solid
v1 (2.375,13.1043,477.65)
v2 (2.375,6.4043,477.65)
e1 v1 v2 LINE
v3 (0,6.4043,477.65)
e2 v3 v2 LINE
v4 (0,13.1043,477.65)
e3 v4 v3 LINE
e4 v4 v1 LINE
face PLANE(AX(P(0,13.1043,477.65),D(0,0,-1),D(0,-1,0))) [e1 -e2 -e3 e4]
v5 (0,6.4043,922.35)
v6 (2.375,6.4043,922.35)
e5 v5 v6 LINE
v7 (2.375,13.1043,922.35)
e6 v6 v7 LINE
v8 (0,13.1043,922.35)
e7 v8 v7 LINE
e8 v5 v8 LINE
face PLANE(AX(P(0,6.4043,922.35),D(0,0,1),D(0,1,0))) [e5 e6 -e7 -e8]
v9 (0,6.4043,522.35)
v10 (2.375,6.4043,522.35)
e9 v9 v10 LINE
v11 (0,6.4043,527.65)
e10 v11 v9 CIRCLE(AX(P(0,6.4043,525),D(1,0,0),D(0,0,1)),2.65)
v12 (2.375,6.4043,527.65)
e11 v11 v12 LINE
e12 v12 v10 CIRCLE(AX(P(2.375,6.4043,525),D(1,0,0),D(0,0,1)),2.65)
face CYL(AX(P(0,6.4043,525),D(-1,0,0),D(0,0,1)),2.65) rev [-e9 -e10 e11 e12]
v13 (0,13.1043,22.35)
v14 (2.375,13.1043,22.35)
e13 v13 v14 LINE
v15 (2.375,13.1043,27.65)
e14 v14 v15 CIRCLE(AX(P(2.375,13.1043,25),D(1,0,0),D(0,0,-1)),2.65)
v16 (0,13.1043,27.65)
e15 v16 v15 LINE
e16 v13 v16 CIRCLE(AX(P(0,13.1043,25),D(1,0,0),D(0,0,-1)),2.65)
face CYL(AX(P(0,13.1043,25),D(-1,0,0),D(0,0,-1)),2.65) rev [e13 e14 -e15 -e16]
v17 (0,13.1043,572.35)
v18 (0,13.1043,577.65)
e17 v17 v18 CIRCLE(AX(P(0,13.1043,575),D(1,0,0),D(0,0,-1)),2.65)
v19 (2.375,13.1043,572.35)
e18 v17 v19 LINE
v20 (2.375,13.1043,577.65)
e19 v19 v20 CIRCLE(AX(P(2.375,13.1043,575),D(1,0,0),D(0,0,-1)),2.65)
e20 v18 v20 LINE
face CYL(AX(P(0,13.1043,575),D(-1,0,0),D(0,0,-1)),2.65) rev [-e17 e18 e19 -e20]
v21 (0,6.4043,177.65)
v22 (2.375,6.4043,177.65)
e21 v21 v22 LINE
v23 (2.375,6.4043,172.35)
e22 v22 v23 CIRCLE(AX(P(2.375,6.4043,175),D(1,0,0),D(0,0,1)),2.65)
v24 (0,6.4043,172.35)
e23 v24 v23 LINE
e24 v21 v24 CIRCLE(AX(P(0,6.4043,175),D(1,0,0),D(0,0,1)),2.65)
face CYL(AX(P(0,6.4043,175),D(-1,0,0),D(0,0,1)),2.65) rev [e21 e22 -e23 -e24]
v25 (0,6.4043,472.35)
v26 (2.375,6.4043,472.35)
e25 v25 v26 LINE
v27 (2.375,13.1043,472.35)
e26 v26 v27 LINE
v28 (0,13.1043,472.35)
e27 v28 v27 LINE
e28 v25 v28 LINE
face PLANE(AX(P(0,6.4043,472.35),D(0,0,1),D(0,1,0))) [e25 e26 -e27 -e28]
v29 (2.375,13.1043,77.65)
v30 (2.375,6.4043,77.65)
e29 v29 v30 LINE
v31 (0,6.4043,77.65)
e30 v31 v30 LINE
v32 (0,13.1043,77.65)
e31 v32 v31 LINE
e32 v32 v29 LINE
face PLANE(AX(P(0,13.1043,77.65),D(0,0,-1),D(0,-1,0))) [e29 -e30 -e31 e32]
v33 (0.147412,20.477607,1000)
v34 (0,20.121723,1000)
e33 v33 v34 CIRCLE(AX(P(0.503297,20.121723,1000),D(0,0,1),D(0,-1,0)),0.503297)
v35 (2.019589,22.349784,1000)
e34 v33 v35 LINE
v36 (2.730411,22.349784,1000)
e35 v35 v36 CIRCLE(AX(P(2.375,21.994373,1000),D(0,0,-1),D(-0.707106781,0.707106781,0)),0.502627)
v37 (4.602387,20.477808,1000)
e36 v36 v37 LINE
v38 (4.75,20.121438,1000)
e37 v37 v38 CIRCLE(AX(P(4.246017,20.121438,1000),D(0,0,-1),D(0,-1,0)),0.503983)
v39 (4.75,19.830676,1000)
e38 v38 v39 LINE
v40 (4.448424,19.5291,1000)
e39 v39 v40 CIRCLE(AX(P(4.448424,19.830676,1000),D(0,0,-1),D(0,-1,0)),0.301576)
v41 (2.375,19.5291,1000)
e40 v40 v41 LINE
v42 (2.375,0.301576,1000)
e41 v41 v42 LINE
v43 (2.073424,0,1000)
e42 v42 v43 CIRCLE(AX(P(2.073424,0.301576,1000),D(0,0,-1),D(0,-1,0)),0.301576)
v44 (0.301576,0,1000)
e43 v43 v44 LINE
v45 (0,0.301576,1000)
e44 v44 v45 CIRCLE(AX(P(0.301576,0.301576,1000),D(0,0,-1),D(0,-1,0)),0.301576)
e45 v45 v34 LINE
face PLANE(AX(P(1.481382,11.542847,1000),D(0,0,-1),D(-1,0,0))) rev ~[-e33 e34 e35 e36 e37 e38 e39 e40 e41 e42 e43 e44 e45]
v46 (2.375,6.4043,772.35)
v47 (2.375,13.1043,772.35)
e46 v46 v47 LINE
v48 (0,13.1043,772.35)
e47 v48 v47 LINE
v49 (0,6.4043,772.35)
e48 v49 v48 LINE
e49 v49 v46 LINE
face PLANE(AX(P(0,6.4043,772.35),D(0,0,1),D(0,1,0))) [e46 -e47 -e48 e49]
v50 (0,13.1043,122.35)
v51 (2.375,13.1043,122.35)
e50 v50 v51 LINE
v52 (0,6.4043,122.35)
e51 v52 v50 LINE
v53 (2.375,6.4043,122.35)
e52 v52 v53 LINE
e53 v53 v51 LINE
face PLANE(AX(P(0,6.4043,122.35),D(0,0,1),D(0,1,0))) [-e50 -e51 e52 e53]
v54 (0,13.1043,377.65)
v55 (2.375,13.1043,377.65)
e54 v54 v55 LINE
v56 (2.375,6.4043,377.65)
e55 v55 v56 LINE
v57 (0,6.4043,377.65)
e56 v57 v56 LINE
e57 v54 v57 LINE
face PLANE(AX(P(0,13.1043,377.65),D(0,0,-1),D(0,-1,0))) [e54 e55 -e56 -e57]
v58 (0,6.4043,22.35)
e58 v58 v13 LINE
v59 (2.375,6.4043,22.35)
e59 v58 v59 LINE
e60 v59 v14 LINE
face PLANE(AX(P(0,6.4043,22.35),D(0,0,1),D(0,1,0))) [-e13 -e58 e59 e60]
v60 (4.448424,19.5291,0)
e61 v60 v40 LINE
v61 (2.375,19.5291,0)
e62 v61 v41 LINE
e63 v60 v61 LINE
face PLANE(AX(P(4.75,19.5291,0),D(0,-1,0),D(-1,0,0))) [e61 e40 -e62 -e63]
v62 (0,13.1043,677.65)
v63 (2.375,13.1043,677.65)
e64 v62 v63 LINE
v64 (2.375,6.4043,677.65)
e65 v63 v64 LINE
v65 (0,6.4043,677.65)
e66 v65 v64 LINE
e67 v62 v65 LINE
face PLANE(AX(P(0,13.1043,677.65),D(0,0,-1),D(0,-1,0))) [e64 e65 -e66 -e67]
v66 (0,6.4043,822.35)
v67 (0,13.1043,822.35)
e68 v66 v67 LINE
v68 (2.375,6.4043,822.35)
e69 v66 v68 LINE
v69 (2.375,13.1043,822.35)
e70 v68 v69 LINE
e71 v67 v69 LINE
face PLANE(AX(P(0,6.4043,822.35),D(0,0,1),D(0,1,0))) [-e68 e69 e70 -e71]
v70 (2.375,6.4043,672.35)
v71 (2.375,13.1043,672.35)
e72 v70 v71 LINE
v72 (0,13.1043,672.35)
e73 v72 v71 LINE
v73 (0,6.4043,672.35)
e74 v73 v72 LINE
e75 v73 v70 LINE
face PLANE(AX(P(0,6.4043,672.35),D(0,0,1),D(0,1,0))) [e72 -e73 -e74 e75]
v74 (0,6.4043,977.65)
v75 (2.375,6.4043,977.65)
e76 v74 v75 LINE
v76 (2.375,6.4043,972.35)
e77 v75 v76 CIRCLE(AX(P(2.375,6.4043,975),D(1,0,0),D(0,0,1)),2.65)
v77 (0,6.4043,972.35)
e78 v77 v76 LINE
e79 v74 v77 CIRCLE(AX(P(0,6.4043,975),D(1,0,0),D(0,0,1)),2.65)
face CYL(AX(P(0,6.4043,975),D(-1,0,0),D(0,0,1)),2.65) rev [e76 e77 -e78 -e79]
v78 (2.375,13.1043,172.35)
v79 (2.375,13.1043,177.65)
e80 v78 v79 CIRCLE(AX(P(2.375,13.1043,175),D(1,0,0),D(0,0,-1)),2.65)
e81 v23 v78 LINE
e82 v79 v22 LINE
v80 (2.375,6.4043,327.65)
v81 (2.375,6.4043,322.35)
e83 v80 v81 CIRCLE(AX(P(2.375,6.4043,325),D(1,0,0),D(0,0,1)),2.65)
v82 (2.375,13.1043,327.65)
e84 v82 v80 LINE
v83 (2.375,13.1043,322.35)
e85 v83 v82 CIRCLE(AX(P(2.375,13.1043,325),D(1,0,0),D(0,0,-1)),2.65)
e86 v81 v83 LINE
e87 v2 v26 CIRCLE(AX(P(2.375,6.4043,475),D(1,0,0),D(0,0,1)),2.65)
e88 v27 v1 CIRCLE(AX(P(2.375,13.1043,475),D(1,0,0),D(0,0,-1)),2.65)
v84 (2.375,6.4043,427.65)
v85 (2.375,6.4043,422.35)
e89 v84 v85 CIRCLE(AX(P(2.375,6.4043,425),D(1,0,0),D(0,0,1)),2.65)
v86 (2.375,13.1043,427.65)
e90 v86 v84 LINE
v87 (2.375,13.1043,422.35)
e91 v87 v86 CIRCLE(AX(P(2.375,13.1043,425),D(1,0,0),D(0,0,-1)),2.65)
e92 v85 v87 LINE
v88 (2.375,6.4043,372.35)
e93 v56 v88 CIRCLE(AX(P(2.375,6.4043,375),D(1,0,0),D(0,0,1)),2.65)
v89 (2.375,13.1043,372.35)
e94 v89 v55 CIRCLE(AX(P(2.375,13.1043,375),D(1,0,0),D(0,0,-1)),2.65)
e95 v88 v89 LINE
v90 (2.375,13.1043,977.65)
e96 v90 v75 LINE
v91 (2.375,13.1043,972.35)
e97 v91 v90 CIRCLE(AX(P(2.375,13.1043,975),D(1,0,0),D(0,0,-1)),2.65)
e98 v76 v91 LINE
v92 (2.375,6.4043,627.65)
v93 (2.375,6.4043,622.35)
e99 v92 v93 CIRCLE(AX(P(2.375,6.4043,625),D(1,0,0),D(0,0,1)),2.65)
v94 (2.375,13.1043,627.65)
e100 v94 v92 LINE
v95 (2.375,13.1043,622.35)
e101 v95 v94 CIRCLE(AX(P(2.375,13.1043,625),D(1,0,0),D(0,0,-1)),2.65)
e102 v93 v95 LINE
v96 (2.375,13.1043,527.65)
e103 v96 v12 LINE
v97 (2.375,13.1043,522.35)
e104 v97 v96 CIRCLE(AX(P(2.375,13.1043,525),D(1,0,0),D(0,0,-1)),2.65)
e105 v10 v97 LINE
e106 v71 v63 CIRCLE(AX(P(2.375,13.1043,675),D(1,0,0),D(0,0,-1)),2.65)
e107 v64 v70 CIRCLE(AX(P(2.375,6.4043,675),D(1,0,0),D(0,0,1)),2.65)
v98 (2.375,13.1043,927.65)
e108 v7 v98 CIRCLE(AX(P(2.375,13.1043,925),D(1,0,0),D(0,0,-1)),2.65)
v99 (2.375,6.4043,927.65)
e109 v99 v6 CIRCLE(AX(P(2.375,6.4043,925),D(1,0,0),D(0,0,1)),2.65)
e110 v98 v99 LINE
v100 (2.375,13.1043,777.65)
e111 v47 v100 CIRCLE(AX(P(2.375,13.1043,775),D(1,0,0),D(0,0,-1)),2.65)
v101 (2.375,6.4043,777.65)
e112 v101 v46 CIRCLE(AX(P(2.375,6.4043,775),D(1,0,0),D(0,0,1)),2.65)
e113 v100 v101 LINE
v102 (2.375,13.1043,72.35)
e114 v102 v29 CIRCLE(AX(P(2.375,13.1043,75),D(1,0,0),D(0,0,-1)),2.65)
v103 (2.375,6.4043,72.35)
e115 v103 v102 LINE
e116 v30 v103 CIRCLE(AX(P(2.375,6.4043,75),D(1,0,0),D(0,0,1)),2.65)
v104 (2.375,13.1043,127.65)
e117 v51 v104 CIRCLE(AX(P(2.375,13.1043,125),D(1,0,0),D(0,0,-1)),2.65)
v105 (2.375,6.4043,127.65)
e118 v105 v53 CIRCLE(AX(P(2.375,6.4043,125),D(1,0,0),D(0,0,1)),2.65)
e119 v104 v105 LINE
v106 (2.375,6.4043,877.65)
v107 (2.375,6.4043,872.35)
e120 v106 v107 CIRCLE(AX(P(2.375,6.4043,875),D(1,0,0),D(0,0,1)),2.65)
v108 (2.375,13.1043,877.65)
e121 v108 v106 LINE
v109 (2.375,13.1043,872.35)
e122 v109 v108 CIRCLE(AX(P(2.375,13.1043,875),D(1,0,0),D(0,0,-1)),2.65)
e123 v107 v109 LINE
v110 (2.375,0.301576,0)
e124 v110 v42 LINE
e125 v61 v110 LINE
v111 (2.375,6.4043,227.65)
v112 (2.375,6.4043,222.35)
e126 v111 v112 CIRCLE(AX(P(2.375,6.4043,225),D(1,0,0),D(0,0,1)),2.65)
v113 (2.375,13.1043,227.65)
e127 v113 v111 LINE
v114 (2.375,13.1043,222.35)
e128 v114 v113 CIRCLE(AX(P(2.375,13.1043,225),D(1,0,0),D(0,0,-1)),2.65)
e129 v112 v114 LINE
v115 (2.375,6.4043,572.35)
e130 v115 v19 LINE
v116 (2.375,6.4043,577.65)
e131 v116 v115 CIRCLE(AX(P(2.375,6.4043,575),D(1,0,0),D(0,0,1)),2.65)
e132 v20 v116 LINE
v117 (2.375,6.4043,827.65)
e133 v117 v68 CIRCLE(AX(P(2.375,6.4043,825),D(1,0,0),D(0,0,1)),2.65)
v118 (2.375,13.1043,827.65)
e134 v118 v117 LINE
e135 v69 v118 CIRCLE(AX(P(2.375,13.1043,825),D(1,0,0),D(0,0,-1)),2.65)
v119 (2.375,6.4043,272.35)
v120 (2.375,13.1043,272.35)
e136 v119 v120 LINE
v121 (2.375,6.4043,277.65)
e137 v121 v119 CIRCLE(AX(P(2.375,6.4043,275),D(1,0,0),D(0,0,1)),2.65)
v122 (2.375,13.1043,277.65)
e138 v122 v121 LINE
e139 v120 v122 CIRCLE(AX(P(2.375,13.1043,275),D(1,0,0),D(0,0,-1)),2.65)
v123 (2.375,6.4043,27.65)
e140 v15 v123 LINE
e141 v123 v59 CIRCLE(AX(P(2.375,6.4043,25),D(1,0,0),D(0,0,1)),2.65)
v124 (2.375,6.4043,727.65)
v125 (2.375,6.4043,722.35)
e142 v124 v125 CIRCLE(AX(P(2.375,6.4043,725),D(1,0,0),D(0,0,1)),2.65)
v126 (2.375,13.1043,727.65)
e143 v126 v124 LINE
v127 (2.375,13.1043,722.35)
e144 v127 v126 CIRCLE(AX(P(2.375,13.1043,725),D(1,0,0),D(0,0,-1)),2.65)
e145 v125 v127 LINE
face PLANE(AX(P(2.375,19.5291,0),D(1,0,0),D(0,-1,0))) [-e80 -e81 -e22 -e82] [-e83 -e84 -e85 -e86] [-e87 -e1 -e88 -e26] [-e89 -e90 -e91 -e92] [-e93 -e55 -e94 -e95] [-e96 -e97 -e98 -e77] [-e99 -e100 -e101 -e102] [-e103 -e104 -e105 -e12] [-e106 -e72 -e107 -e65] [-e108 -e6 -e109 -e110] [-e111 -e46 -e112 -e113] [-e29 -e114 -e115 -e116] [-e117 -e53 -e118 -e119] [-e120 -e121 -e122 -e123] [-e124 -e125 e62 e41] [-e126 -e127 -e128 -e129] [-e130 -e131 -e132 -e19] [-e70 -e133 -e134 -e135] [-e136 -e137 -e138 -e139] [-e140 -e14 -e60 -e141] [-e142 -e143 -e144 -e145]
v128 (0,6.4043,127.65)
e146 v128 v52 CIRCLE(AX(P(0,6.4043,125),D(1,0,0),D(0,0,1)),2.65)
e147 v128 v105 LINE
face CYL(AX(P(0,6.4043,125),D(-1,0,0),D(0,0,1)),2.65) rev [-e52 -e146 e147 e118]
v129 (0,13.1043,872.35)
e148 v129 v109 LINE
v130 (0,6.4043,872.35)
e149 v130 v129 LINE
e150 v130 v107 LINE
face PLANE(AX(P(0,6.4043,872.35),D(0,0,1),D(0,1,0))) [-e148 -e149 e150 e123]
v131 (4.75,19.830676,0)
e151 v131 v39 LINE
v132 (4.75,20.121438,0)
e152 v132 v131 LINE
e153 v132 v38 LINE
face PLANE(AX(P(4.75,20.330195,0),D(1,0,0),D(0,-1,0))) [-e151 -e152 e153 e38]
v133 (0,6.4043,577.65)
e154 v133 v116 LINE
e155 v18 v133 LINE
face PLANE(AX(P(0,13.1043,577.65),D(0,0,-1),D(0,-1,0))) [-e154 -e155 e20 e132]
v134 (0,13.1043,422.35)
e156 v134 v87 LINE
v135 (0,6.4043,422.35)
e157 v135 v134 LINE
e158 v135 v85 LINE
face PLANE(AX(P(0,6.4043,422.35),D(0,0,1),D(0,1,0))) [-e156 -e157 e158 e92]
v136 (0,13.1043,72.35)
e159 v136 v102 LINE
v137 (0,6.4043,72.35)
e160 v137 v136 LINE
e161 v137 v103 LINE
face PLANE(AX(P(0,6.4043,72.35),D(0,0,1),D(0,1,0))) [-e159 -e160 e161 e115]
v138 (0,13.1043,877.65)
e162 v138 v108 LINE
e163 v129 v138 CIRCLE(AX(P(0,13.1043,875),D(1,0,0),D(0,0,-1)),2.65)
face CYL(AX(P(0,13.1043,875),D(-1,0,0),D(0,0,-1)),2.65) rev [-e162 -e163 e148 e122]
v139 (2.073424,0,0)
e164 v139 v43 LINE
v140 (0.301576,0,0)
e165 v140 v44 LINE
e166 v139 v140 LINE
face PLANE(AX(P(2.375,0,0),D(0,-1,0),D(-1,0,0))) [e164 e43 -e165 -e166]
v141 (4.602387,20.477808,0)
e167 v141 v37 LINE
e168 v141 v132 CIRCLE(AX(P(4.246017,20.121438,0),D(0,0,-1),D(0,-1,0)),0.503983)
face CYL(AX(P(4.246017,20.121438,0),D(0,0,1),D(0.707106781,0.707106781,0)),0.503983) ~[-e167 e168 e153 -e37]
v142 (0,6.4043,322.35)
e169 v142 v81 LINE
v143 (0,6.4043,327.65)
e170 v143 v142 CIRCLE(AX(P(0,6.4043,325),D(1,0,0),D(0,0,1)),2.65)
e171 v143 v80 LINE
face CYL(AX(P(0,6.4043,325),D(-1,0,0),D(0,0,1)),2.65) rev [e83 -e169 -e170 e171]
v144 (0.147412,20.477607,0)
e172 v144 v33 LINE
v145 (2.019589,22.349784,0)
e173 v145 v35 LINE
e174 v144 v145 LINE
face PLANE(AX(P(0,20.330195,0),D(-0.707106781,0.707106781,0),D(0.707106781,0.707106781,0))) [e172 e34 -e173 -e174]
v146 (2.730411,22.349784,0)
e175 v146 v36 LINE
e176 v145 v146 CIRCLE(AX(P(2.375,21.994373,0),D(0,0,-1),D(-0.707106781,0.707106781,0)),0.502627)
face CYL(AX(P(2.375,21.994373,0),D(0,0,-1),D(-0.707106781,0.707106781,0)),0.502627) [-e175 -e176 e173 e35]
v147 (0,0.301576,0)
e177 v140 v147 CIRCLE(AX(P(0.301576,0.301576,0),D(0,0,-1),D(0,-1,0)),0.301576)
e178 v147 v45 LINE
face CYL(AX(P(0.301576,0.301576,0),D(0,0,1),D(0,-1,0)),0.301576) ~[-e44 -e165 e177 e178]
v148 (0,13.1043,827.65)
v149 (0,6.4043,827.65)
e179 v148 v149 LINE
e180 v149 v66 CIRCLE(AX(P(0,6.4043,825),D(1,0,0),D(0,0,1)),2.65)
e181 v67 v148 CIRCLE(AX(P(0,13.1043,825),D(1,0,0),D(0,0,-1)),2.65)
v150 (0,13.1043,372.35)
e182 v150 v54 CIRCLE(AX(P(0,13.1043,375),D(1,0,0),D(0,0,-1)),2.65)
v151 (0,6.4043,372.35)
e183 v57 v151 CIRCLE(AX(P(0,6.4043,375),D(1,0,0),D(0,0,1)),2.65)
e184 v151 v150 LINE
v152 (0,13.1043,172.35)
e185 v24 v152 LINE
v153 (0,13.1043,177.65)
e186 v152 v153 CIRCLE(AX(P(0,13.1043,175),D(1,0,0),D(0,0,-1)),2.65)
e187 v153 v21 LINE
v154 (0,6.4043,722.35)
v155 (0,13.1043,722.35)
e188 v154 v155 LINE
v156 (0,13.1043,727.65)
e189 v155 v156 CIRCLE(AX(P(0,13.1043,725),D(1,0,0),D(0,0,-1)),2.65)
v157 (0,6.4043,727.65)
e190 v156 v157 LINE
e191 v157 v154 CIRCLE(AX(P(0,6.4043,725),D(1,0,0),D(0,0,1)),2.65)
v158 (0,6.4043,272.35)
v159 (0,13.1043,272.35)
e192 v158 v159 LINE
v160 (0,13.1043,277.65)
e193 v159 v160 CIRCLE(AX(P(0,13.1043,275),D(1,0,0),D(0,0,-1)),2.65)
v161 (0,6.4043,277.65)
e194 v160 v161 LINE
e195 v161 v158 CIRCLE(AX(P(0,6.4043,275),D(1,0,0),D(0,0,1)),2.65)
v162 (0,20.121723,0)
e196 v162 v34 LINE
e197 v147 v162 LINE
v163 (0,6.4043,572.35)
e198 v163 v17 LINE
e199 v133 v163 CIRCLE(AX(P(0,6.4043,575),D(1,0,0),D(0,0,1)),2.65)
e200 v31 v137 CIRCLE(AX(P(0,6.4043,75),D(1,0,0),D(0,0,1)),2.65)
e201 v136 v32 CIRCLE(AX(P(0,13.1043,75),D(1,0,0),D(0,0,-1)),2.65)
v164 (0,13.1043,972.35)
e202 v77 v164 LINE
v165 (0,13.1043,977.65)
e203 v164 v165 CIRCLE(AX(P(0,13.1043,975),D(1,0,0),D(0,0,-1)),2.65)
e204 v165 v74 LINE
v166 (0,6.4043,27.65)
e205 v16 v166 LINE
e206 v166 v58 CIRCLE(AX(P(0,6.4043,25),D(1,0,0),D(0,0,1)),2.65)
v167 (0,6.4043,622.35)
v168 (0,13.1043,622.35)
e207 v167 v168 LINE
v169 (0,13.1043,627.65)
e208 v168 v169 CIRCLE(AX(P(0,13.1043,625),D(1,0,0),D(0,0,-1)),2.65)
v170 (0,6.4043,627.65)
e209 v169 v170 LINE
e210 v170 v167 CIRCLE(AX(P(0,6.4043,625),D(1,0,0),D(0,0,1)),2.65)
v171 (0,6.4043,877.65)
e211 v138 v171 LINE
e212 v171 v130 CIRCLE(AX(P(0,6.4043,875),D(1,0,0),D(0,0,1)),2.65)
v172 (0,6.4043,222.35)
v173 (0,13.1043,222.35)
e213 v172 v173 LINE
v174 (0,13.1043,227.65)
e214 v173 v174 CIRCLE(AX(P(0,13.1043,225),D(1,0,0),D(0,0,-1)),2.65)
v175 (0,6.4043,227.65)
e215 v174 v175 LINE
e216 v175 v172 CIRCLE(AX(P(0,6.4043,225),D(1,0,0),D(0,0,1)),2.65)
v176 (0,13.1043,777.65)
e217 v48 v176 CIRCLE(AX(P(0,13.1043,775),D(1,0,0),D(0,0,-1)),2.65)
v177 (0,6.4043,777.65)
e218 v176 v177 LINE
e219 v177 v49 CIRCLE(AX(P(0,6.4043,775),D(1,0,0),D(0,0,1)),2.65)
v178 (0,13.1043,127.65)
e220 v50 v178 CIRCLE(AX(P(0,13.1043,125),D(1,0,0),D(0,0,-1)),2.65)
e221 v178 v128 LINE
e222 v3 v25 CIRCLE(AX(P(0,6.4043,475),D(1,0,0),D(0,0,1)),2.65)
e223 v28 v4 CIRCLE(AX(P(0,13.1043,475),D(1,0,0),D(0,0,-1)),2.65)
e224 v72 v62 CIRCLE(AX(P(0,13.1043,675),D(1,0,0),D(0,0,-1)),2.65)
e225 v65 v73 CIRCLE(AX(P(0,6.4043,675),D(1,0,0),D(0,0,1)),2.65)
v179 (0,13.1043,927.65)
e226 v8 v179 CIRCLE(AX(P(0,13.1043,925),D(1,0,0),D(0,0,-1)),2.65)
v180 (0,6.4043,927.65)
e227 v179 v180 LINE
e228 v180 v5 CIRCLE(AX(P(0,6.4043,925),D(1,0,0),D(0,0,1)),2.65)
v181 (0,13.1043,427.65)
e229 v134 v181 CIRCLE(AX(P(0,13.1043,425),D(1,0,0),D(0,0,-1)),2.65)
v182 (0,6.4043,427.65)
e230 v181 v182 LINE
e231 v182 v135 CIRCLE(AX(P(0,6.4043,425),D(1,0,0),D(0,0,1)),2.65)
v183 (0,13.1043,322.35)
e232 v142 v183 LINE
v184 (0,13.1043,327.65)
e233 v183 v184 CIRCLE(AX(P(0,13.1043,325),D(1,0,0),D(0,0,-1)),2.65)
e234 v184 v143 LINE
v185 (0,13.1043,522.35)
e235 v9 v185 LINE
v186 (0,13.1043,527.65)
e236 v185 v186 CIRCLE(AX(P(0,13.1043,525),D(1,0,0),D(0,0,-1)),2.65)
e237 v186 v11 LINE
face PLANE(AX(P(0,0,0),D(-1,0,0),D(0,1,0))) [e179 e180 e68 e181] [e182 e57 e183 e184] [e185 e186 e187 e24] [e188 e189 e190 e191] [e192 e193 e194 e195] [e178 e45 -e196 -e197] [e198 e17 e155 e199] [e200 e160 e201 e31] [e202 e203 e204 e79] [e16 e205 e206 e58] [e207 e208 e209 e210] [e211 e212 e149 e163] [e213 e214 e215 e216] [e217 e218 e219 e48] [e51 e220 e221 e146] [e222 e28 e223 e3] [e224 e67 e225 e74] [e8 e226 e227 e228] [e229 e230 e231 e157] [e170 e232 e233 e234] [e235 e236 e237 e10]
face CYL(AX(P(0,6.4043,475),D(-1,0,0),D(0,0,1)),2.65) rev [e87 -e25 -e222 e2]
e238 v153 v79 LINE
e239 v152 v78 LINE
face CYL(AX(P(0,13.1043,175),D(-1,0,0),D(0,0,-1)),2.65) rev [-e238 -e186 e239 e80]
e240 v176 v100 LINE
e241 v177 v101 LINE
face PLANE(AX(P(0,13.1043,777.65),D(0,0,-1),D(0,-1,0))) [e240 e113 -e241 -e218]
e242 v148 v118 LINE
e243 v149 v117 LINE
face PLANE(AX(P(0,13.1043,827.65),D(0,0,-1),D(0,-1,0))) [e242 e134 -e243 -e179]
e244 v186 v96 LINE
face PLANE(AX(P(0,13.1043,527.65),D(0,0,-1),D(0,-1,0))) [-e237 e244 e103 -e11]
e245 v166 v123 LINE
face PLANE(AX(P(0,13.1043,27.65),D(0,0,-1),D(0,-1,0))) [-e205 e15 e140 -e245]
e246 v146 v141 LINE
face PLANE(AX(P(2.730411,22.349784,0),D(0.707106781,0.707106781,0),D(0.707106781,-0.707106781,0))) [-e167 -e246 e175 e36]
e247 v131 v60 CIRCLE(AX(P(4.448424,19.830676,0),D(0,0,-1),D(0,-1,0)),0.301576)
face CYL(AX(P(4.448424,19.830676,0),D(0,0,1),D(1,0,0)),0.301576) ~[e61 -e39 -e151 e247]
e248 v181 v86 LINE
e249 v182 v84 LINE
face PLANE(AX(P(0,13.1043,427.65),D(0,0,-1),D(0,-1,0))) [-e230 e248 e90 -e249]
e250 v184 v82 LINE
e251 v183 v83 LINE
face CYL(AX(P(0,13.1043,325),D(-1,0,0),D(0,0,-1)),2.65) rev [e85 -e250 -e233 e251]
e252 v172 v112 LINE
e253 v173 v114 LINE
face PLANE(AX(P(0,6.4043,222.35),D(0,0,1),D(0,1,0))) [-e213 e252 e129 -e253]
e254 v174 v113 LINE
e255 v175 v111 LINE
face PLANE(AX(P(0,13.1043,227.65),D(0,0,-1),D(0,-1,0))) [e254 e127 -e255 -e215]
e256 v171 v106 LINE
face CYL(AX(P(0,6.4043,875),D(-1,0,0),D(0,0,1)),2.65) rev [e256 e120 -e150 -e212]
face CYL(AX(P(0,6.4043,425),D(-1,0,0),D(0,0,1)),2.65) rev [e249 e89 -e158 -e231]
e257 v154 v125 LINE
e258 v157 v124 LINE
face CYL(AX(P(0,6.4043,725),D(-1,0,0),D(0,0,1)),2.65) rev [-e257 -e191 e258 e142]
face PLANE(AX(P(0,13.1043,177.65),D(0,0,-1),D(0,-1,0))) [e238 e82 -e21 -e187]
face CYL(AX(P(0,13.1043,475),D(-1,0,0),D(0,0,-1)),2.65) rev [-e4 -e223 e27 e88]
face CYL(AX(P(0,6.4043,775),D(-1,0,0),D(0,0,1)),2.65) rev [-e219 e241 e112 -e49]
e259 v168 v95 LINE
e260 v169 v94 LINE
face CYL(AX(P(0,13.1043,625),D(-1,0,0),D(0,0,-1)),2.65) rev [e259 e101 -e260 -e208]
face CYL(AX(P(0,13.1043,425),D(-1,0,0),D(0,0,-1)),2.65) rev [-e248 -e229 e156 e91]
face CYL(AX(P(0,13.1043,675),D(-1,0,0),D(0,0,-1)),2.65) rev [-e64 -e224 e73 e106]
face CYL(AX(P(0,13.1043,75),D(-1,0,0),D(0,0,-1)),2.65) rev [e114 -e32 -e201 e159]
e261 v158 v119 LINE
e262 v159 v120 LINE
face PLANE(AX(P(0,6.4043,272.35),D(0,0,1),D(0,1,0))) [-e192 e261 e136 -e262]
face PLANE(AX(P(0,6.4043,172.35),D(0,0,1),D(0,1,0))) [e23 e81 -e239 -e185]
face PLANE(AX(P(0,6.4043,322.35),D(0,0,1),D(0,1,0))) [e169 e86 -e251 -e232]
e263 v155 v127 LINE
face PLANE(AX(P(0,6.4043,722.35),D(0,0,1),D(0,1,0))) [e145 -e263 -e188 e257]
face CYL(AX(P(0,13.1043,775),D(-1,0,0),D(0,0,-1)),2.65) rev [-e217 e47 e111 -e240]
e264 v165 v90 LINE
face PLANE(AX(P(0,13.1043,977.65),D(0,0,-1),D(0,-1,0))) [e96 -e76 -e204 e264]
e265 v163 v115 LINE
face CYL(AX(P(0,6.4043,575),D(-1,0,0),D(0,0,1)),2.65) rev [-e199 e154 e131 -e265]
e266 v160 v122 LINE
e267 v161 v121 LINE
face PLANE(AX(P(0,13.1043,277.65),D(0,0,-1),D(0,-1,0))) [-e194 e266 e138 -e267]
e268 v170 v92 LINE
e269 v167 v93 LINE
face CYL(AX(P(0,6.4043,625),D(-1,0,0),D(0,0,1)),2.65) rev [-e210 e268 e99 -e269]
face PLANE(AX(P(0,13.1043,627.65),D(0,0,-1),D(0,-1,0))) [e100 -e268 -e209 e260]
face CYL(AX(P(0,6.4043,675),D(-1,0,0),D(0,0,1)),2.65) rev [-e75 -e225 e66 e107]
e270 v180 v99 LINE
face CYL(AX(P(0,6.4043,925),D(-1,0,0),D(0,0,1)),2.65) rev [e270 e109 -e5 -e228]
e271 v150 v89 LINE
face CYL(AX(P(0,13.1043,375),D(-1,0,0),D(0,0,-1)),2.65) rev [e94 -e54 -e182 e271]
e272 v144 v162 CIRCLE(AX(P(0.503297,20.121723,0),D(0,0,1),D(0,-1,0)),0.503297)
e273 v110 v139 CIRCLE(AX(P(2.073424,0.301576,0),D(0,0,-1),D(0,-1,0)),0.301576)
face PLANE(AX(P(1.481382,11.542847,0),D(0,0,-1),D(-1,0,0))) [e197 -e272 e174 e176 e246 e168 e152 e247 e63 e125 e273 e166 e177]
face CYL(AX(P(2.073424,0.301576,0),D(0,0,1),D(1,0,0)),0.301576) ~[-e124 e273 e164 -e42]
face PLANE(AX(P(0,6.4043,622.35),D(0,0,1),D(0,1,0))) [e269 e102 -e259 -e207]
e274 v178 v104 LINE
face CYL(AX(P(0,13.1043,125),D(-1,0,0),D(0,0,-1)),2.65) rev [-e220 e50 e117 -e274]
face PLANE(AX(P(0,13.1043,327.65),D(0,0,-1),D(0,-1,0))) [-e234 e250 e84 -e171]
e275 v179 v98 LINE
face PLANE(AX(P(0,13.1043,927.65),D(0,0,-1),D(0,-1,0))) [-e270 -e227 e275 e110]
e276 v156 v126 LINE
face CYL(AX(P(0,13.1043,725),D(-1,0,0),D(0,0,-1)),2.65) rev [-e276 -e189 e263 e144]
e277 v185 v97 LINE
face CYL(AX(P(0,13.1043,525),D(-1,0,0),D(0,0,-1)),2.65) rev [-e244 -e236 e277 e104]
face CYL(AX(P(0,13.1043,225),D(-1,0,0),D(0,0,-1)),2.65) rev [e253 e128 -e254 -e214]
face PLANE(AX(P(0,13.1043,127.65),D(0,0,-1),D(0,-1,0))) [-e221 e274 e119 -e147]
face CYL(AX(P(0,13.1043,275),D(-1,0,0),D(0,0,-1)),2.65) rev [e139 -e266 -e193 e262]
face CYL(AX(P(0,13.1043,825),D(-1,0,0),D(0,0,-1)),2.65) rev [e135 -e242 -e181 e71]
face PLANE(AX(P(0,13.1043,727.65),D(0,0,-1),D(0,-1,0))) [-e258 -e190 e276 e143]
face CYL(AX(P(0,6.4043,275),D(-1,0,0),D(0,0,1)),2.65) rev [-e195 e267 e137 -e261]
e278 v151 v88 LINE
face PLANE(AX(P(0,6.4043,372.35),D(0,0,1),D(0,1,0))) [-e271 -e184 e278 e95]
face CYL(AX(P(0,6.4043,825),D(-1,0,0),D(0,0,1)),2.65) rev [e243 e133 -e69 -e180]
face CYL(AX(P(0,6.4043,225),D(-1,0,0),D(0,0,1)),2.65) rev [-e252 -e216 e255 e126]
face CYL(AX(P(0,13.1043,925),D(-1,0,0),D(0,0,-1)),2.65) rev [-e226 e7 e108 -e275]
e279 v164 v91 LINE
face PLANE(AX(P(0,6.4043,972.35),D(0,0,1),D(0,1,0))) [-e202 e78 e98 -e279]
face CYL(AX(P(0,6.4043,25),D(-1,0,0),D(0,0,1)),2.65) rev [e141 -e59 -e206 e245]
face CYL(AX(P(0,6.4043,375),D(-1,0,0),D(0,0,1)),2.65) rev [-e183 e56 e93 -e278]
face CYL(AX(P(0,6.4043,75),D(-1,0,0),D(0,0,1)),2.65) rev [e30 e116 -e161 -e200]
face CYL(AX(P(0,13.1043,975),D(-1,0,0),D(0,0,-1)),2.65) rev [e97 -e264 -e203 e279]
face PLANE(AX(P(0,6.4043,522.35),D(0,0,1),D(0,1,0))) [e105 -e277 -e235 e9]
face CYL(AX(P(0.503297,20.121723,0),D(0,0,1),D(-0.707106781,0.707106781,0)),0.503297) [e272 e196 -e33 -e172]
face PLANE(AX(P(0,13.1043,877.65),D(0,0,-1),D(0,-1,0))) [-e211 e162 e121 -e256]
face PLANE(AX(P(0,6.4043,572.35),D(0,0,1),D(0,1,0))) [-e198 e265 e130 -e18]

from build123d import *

# Parameters (mm, degrees)
BOSS_EXTRUDE1_DEPTH = 1000
FILLET1_R           = 0.50329666
FILLET2_R           = 0.50398302
FILLET3_R           = 0.30157619
FILLET4_R           = 0.30157551
CUT_EXTRUDE1_DEPTH  = 2.375
LPATTERN1_COUNT     = 20
LPATTERN1_PITCH     = 50


with BuildPart() as part:
    # Sketch1 → Boss-Extrude1 (new body)
    with BuildSketch(Plane.XY):
        with BuildLine():
            Line((0, 20.330194912), (2.019589054, 22.349783966))
            ThreePointArc((2.019589054, 22.349783966), (2.375, 22.497), (2.730410946, 22.349783966))
            Line((2.730410946, 22.349783966), (4.75, 20.330194912))
            Line((4.75, 20.330194912), (4.75, 19.5291))
            Line((4.75, 19.5291), (2.375, 19.5291))
            Line((2.375, 19.5291), (2.375, 0))
            Line((2.375, 0), (0, 0))
            Line((0, 0), (0, 20.330194912))
        make_face()
    extrude(amount=BOSS_EXTRUDE1_DEPTH)

    # Fillet1
    fillet1_edges = [part.edges().sort_by_distance(p)[0] for p in [
        (0, 20.330194912, 500),
    ]]
    fillet(fillet1_edges, radius=FILLET1_R)

    # Fillet2
    fillet2_edges = [part.edges().sort_by_distance(p)[0] for p in [
        (4.75, 20.330194912, 500),
    ]]
    fillet(fillet2_edges, radius=FILLET2_R)

    # Fillet3
    fillet3_edges = [part.edges().sort_by_distance(p)[0] for p in [
        (4.75, 19.5291, 500),
    ]]
    fillet(fillet3_edges, radius=FILLET3_R)

    # Fillet4
    fillet4_edges = [part.edges().sort_by_distance(p)[0] for p in [
        (2.375, 0, 500),
        (0, 0, 500),
    ]]
    fillet(fillet4_edges, radius=FILLET4_R)

    # Sketch2 → Cut-Extrude1 (cut)
    with BuildSketch(Plane.ZY):
        with BuildLine():
            Line((27.65, 13.1043), (27.65, 6.4043))
            ThreePointArc((27.65, 6.4043), (25, 3.7543), (22.35, 6.4043))
            Line((22.35, 6.4043), (22.35, 13.1043))
            ThreePointArc((22.35, 13.1043), (25, 15.7543), (27.65, 13.1043))
        make_face()
    cut_extrude1 = extrude(amount=-CUT_EXTRUDE1_DEPTH, mode=Mode.SUBTRACT)

    # LPattern1: Cut-Extrude1 ×20
    with Locations(*[(0, 0, i * LPATTERN1_PITCH) for i in range(1, LPATTERN1_COUNT)]):
        add(cut_extrude1, mode=Mode.SUBTRACT)


solid = part.part
